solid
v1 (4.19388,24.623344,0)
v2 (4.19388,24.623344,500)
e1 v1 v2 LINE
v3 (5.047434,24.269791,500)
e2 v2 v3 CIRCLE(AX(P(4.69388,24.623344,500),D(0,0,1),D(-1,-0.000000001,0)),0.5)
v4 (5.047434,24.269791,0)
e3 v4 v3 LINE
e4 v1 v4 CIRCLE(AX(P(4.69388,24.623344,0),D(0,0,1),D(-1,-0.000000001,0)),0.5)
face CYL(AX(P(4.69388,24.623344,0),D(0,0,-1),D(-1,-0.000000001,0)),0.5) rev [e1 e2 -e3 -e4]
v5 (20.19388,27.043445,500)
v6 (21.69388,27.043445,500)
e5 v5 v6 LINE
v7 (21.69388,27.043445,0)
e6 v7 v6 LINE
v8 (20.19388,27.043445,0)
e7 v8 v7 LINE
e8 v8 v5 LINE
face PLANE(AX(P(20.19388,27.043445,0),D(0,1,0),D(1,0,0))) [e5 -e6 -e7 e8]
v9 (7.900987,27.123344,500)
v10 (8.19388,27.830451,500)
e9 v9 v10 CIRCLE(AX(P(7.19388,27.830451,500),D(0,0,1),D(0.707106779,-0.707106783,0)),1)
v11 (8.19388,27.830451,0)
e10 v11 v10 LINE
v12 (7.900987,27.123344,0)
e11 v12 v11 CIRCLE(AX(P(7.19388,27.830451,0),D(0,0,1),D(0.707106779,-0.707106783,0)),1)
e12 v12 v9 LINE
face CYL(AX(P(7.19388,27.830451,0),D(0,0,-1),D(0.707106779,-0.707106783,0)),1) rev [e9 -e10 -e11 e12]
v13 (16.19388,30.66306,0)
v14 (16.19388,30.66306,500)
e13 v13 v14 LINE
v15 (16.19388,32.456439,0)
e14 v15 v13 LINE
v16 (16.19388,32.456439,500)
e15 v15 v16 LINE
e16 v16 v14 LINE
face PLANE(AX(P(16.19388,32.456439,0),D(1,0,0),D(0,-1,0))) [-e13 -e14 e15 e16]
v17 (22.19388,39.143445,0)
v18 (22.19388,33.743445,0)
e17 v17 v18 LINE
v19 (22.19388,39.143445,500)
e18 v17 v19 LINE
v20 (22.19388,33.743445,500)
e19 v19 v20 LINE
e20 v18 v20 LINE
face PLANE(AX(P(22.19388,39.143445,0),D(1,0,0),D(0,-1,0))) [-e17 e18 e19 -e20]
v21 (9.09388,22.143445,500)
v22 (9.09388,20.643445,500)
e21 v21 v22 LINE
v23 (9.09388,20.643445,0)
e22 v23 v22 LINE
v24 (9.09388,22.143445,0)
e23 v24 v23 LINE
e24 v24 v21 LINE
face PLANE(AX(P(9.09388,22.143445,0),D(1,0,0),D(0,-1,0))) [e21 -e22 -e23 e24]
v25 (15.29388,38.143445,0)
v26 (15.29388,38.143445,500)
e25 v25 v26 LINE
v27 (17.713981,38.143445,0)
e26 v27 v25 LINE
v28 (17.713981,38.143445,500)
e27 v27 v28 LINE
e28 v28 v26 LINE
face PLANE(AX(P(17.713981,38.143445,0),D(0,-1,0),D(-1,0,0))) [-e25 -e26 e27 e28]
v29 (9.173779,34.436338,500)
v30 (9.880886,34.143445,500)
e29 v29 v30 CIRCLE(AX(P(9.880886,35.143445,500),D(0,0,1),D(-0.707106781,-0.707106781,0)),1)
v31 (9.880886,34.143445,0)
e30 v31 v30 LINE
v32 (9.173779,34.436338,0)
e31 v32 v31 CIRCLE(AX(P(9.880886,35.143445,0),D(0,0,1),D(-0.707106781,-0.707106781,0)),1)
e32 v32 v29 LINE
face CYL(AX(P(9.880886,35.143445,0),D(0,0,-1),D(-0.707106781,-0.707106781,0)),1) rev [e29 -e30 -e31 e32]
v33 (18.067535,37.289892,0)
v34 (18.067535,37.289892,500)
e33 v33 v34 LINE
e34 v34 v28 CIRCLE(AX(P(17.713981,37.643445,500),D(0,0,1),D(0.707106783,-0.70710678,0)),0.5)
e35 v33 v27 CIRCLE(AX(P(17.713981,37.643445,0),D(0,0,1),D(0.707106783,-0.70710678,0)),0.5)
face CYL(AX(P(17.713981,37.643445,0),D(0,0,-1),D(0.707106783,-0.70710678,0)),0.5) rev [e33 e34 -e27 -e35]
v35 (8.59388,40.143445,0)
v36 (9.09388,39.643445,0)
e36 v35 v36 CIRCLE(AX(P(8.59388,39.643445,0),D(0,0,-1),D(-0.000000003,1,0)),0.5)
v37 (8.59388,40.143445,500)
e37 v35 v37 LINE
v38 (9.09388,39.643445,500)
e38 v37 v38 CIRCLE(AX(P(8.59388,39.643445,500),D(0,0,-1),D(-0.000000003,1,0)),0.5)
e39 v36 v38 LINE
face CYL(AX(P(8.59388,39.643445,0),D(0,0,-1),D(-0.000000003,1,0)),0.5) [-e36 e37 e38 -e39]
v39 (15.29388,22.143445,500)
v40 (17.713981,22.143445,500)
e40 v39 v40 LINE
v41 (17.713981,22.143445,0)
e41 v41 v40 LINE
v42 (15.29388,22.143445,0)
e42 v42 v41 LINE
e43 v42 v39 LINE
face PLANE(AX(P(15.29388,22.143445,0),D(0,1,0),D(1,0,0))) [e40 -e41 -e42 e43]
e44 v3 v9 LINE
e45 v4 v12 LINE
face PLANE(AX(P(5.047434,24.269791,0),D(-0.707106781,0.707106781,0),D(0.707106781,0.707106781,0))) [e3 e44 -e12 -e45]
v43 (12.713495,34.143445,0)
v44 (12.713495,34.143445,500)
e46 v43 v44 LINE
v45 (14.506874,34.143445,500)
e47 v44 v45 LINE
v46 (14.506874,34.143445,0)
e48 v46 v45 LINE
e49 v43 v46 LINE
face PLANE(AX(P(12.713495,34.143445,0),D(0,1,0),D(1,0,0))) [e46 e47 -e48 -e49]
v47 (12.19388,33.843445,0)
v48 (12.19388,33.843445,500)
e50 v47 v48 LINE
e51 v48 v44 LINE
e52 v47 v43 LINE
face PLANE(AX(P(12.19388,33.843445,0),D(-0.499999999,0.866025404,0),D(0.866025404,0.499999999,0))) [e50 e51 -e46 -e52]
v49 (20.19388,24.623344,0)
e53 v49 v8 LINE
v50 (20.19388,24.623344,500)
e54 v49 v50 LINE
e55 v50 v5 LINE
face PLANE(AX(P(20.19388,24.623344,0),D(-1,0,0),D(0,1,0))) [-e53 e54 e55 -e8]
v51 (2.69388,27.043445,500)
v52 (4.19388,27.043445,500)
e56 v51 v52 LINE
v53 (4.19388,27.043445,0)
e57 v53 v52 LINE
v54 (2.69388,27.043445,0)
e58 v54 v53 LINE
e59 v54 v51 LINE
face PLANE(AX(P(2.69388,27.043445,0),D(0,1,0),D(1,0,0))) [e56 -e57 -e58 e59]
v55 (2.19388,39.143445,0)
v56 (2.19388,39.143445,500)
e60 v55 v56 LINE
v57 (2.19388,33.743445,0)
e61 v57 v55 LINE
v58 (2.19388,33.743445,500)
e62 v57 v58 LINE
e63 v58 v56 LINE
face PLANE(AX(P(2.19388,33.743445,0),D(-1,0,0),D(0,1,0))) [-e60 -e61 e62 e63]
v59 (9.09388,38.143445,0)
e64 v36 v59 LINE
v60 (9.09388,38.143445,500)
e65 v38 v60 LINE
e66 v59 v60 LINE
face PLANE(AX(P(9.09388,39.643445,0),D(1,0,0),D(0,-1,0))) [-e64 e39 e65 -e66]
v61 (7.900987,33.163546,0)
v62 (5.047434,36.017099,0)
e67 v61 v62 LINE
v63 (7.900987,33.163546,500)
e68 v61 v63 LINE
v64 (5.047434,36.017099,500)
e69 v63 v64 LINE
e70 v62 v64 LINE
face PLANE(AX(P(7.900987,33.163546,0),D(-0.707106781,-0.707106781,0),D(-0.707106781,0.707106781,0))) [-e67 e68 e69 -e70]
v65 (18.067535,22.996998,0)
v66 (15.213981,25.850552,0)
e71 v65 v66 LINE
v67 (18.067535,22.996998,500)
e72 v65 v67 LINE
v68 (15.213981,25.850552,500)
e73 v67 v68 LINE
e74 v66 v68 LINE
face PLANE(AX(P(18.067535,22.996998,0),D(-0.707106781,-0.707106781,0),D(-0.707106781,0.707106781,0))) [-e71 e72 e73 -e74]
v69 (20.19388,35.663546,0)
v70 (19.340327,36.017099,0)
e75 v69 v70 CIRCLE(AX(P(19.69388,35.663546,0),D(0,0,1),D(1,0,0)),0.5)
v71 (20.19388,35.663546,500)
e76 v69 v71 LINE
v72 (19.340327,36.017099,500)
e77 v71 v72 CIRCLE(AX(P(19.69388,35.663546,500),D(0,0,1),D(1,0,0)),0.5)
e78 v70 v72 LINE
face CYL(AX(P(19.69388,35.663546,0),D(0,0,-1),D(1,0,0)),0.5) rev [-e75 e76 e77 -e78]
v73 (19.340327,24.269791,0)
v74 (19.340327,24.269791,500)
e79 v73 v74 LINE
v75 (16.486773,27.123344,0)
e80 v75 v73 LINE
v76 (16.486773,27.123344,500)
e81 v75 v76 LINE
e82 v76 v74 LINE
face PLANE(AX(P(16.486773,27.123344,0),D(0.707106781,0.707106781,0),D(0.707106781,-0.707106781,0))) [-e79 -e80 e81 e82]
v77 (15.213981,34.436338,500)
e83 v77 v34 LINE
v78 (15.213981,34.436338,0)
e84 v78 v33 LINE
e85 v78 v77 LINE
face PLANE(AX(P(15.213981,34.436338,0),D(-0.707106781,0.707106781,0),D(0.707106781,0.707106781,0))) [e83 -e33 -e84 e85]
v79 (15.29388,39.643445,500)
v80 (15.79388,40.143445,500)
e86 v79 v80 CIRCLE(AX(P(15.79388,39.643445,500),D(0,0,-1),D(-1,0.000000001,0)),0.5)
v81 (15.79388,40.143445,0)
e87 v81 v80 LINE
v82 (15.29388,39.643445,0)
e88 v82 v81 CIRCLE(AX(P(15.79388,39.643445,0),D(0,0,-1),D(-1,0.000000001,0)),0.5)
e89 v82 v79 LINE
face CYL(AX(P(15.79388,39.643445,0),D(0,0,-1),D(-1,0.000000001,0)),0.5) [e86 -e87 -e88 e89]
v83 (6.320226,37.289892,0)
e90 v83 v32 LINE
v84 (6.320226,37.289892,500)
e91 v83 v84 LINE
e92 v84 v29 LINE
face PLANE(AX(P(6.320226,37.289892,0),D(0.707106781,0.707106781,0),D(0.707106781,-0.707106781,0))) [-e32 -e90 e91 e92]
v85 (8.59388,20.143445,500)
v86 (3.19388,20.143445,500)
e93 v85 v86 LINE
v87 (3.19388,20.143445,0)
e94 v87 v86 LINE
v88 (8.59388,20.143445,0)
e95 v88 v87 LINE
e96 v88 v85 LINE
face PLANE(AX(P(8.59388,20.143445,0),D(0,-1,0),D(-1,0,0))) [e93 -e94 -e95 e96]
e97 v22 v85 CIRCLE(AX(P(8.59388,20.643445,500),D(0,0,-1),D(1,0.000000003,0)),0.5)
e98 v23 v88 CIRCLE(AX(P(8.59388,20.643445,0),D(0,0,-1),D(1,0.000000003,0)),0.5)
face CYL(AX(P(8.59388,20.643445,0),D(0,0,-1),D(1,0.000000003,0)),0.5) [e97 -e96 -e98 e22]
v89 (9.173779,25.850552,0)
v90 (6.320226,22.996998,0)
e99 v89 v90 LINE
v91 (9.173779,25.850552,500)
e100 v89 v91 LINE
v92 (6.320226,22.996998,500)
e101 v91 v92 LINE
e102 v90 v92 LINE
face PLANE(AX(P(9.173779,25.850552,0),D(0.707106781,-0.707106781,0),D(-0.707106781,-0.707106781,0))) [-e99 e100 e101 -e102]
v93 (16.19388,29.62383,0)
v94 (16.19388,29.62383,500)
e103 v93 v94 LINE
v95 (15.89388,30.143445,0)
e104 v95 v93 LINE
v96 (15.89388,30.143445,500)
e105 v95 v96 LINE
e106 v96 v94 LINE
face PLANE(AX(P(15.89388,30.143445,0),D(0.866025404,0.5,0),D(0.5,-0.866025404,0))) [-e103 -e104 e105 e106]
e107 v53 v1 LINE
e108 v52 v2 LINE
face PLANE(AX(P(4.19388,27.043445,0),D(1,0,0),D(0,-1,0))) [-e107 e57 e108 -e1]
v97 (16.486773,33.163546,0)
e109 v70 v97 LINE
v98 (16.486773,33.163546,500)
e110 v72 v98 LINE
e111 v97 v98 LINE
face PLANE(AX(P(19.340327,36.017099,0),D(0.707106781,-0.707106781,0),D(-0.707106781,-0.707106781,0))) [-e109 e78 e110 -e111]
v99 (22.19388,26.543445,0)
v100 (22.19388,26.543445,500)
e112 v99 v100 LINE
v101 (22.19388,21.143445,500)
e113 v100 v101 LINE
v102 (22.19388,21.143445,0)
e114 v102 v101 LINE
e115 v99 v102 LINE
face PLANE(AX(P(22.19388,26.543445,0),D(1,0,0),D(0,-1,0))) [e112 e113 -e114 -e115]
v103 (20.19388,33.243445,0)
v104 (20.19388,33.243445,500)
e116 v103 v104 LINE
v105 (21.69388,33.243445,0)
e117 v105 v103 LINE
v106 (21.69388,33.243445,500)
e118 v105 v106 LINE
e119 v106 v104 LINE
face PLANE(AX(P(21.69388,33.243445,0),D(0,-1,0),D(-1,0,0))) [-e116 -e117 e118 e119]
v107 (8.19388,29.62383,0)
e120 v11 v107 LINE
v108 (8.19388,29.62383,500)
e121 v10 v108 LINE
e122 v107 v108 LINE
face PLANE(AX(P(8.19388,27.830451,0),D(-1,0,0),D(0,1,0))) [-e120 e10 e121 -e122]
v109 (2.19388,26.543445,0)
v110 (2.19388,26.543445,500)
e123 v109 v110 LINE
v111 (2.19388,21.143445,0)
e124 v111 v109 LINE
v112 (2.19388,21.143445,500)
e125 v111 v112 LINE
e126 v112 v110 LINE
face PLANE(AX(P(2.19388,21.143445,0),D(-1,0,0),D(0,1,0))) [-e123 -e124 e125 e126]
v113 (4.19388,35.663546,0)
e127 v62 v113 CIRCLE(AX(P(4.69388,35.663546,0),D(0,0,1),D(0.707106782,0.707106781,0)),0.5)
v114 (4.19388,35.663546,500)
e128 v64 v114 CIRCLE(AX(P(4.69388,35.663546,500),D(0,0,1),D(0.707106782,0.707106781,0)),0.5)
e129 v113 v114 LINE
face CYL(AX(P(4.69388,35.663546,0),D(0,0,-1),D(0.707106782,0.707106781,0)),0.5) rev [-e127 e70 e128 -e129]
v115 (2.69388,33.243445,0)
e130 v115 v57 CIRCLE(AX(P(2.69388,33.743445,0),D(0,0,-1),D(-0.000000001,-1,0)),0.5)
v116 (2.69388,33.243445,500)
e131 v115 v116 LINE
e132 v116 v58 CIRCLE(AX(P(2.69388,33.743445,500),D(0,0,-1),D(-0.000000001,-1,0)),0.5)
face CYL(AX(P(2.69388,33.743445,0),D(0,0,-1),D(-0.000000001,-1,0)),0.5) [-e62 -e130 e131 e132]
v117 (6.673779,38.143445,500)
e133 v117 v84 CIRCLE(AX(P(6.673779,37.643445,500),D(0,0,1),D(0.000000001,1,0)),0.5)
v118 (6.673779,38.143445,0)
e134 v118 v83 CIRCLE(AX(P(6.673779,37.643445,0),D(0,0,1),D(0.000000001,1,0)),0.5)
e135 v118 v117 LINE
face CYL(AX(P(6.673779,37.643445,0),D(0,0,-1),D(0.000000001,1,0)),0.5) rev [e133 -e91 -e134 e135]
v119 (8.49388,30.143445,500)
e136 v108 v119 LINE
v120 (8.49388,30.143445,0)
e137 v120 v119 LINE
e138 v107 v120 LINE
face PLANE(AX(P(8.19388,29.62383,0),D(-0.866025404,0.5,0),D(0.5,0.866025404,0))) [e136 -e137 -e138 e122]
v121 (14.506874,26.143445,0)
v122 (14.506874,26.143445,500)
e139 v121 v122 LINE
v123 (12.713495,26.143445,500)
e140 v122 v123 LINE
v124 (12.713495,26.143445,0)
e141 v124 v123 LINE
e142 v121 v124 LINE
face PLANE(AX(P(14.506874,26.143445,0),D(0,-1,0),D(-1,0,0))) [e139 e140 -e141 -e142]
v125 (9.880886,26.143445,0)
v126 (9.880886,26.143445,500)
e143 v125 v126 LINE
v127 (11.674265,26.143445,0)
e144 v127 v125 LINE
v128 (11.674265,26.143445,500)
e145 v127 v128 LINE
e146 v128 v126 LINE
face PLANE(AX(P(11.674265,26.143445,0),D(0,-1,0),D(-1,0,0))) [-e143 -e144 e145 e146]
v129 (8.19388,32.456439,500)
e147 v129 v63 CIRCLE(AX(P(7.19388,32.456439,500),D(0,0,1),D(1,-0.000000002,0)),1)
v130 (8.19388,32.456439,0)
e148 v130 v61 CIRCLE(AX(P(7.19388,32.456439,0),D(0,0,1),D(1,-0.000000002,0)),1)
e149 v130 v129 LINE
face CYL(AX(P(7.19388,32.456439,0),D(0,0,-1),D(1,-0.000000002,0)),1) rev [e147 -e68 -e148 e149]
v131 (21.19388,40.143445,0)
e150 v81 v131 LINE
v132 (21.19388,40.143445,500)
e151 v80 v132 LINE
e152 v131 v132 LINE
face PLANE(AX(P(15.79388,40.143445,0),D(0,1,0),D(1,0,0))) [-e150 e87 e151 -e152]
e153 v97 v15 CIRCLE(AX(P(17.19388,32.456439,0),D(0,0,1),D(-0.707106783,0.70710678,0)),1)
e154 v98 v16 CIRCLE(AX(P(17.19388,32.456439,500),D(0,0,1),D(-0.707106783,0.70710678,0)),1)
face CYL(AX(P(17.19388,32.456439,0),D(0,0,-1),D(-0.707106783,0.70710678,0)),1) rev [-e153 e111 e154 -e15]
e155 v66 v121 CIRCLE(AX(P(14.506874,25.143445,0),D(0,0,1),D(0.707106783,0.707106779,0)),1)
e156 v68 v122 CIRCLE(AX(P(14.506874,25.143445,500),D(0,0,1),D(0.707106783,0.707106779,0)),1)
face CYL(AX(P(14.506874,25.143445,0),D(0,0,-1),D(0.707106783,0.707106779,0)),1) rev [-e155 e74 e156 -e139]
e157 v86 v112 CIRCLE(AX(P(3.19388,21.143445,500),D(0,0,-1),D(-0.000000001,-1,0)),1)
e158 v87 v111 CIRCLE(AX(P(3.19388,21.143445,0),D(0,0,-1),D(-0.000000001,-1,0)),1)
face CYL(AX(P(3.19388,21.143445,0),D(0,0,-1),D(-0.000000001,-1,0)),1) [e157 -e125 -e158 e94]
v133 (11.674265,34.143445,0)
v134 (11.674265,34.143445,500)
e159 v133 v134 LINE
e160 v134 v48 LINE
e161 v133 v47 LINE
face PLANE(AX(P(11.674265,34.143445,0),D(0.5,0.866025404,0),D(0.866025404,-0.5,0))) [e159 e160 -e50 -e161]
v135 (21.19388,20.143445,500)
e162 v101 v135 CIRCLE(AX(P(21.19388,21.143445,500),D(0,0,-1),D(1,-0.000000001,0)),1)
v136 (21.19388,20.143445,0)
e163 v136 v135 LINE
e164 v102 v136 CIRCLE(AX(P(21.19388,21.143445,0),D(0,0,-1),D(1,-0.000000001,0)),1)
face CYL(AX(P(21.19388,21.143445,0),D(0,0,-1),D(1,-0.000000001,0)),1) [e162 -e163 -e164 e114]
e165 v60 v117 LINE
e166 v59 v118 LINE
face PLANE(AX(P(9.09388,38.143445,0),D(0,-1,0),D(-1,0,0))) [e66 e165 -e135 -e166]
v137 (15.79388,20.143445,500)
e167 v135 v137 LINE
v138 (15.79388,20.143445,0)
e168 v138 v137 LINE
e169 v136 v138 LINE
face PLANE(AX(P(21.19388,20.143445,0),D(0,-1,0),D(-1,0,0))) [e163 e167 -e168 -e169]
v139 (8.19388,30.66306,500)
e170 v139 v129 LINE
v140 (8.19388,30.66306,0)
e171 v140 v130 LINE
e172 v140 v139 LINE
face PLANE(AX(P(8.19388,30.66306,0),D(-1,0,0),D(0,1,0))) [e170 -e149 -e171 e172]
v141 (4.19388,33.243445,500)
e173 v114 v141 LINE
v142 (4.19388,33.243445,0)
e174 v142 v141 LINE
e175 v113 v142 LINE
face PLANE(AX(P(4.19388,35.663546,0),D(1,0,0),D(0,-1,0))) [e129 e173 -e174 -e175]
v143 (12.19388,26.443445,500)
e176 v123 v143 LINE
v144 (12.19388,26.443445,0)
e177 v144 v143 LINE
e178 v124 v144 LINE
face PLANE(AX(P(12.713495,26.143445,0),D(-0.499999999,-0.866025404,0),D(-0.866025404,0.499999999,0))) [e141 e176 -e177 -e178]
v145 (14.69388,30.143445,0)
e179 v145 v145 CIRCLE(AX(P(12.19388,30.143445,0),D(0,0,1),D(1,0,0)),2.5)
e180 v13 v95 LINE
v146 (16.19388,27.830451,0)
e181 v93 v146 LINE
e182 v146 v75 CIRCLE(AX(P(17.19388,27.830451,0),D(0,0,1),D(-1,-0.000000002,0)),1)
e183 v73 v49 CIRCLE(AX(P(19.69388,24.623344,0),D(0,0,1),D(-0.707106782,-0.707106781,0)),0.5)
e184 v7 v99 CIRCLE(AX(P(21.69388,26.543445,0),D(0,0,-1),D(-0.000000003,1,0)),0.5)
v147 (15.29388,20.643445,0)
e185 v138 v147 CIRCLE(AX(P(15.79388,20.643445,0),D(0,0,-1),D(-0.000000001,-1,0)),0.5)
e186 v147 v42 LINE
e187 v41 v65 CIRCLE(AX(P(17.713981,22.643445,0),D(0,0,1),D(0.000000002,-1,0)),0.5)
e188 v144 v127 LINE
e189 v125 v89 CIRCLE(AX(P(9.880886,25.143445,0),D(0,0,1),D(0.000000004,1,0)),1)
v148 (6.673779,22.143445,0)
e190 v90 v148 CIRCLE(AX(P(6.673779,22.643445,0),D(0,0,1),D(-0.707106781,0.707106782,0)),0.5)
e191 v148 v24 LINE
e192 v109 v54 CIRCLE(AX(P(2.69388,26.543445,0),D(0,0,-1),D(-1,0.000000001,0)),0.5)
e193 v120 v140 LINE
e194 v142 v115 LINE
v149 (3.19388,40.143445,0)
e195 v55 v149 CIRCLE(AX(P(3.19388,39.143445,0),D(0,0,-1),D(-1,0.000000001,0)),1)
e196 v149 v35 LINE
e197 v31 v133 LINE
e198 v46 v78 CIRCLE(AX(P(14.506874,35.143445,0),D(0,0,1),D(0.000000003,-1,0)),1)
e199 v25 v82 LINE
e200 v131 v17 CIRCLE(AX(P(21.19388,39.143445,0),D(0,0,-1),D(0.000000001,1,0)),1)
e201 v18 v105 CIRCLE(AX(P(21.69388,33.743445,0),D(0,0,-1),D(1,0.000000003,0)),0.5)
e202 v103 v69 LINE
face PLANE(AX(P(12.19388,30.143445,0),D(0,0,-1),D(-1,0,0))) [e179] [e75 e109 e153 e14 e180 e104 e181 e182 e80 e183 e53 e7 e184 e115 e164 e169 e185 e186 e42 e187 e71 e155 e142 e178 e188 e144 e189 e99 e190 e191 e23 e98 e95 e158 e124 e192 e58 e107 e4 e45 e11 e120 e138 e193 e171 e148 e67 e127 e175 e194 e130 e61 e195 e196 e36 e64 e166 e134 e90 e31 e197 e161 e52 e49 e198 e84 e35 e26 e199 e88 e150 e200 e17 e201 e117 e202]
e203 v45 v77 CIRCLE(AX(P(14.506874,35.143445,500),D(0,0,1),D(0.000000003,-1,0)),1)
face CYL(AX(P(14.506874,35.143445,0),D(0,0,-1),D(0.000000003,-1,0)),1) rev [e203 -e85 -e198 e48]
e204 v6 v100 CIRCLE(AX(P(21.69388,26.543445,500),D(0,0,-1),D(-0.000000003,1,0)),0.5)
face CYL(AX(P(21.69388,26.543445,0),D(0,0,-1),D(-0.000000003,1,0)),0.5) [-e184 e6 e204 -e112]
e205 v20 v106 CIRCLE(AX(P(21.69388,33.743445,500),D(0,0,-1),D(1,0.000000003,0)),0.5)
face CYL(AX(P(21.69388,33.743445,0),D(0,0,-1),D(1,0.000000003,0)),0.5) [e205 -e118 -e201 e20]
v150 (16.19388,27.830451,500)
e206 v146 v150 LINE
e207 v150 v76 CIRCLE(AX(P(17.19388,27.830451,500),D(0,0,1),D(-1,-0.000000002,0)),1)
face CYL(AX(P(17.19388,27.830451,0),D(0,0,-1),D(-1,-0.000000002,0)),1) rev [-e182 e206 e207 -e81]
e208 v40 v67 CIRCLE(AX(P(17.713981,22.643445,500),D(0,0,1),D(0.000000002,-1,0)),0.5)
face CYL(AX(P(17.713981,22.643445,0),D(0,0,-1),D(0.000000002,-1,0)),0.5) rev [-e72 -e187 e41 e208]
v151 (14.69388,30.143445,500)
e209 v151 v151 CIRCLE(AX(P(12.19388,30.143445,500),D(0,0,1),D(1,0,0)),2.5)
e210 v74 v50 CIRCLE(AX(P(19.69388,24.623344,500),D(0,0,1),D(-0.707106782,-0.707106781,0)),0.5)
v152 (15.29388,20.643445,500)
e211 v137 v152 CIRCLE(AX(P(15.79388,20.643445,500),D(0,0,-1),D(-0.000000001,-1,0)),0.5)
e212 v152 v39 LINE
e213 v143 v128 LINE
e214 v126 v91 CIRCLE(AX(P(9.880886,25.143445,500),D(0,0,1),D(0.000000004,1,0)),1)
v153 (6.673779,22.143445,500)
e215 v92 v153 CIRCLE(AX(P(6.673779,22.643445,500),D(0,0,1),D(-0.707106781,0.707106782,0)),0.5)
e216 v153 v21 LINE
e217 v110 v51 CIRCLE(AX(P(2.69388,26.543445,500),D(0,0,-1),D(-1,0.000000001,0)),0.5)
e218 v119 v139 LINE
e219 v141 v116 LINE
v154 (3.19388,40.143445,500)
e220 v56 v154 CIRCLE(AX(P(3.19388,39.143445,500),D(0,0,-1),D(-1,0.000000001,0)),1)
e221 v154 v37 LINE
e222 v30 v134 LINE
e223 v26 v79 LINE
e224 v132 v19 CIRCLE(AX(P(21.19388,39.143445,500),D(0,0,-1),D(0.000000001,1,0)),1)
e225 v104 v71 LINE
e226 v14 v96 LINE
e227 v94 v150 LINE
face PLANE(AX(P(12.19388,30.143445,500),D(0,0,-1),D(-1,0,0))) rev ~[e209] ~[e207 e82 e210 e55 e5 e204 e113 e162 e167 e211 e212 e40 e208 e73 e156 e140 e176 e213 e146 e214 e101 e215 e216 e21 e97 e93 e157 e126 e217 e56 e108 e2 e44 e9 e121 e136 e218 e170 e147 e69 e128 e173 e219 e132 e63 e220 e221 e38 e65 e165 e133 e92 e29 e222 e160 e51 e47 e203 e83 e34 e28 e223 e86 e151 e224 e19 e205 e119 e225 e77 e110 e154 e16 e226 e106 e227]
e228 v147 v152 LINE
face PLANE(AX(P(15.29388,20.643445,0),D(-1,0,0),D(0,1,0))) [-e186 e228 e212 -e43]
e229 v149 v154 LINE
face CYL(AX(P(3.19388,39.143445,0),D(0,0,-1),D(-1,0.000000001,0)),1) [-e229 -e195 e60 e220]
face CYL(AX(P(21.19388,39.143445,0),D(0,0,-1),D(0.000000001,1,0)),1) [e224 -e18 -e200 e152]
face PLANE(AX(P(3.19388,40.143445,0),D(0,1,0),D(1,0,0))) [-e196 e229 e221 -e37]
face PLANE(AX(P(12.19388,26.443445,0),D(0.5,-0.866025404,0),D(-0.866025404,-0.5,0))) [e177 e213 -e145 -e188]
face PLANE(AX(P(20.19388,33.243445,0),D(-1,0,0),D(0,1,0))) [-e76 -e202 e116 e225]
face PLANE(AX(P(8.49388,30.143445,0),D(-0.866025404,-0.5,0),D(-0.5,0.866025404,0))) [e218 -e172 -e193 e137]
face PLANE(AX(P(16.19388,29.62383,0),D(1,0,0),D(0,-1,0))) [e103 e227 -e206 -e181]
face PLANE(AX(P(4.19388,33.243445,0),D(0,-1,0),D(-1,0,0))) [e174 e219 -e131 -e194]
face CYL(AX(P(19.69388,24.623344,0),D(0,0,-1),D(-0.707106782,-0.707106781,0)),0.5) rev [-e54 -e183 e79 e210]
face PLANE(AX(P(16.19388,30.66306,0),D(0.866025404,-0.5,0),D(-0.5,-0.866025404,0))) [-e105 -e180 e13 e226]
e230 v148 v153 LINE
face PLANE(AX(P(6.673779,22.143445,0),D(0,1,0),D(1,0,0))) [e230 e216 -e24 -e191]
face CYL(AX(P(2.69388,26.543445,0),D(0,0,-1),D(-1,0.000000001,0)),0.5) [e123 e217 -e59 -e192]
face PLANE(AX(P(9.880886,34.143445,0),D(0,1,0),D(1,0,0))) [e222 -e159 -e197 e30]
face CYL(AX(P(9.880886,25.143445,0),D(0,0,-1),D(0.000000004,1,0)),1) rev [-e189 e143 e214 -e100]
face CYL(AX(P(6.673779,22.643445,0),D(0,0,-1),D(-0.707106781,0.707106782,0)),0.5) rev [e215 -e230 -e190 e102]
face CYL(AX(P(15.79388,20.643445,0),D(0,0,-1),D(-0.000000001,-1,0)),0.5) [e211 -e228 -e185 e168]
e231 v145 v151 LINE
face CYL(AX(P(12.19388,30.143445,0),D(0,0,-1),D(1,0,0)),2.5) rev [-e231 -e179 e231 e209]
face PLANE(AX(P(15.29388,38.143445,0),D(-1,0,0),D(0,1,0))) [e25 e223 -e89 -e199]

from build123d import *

# Parameters (mm, degrees)
SKETCH_1_R      = 2.5
EXTRUDE_1_DEPTH = 500


with BuildPart() as part:
    # 草图1 → 凸台-拉伸1 (new body)
    with BuildSketch(Plane.XY):
        with BuildLine():
            Line((16.486773435, 27.123343944), (19.340326826, 24.269790554))
            ThreePointArc((19.340326826, 24.269790554), (19.885221932, 24.161404178), (20.193880216, 24.623343944))
            Line((20.193880216, 24.623343944), (20.193880216, 27.043444957))
            Line((20.193880216, 27.043444957), (21.693880216, 27.043444957))
            ThreePointArc((21.693880216, 27.043444957), (22.047433607, 26.896998348), (22.193880216, 26.543444957))
            Line((22.193880216, 26.543444957), (22.193880216, 21.143444957))
            ThreePointArc((22.193880216, 21.143444957), (21.900986997, 20.436338176), (21.193880216, 20.143444957))
            Line((21.193880216, 20.143444957), (15.793880216, 20.143444957))
            ThreePointArc((15.793880216, 20.143444957), (15.440326826, 20.289891566), (15.293880216, 20.643444957))
            Line((15.293880216, 20.643444957), (15.293880216, 22.143444957))
            Line((15.293880216, 22.143444957), (17.713981229, 22.143444957))
            ThreePointArc((17.713981229, 22.143444957), (18.175920995, 22.452103241), (18.06753462, 22.996998348))
            Line((18.06753462, 22.996998348), (15.213981229, 25.850551738))
            ThreePointArc((15.213981229, 25.850551738), (14.88955788, 26.06732449), (14.506874448, 26.143444957))
            Line((14.506874448, 26.143444957), (12.713495459, 26.143444957))
            Line((12.713495459, 26.143444957), (12.193880216, 26.443444957))
            Line((12.193880216, 26.443444957), (11.674264974, 26.143444957))
            Line((11.674264974, 26.143444957), (9.880885985, 26.143444957))
            ThreePointArc((9.880885985, 26.143444957), (9.498202552, 26.06732449), (9.173779204, 25.850551738))
            Line((9.173779204, 25.850551738), (6.320225813, 22.996998348))
            ThreePointArc((6.320225813, 22.996998348), (6.211839437, 22.452103241), (6.673779204, 22.143444957))
            Line((6.673779204, 22.143444957), (9.093880216, 22.143444957))
            Line((9.093880216, 22.143444957), (9.093880216, 20.643444957))
            ThreePointArc((9.093880216, 20.643444957), (8.947433607, 20.289891566), (8.593880216, 20.143444957))
            Line((8.593880216, 20.143444957), (3.193880216, 20.143444957))
            ThreePointArc((3.193880216, 20.143444957), (2.486773435, 20.436338176), (2.193880216, 21.143444957))
            Line((2.193880216, 21.143444957), (2.193880216, 26.543444957))
            ThreePointArc((2.193880216, 26.543444957), (2.340326826, 26.896998348), (2.693880216, 27.043444957))
            Line((2.693880216, 27.043444957), (4.193880216, 27.043444957))
            Line((4.193880216, 27.043444957), (4.193880216, 24.623343944))
            ThreePointArc((4.193880216, 24.623343944), (4.5025385, 24.161404178), (5.047433607, 24.269790554))
            Line((5.047433607, 24.269790554), (7.900986997, 27.123343944))
            ThreePointArc((7.900986997, 27.123343944), (8.117759749, 27.447767293), (8.193880216, 27.830450726))
            Line((8.193880216, 27.830450726), (8.193880216, 29.623829715))
            Line((8.193880216, 29.623829715), (8.493880216, 30.143444957))
            Line((8.493880216, 30.143444957), (8.193880216, 30.663060199))
            Line((8.193880216, 30.663060199), (8.193880216, 32.456439189))
            ThreePointArc((8.193880216, 32.456439189), (8.117759749, 32.839122621), (7.900986997, 33.16354597))
            Line((7.900986997, 33.16354597), (5.047433607, 36.01709936))
            ThreePointArc((5.047433607, 36.01709936), (4.5025385, 36.125485736), (4.193880216, 35.66354597))
            Line((4.193880216, 35.66354597), (4.193880216, 33.243444957))
            Line((4.193880216, 33.243444957), (2.693880216, 33.243444957))
            ThreePointArc((2.693880216, 33.243444957), (2.340326826, 33.389891566), (2.193880216, 33.743444957))
            Line((2.193880216, 33.743444957), (2.193880216, 39.143444957))
            ThreePointArc((2.193880216, 39.143444957), (2.486773435, 39.850551738), (3.193880216, 40.143444957))
            Line((3.193880216, 40.143444957), (8.593880216, 40.143444957))
            ThreePointArc((8.593880216, 40.143444957), (8.947433607, 39.996998348), (9.093880216, 39.643444957))
            Line((9.093880216, 39.643444957), (9.093880216, 38.143444957))
            Line((9.093880216, 38.143444957), (6.673779204, 38.143444957))
            ThreePointArc((6.673779204, 38.143444957), (6.211839437, 37.834786673), (6.320225813, 37.289891566))
            Line((6.320225813, 37.289891566), (9.173779204, 34.436338176))
            ThreePointArc((9.173779204, 34.436338176), (9.498202552, 34.219565425), (9.880885985, 34.143444957))
            Line((9.880885985, 34.143444957), (11.674264974, 34.143444957))
            Line((11.674264974, 34.143444957), (12.193880216, 33.843444957))
            Line((12.193880216, 33.843444957), (12.713495459, 34.143444957))
            Line((12.713495459, 34.143444957), (14.506874448, 34.143444957))
            ThreePointArc((14.506874448, 34.143444957), (14.88955788, 34.219565425), (15.213981229, 34.436338176))
            Line((15.213981229, 34.436338176), (18.06753462, 37.289891566))
            ThreePointArc((18.06753462, 37.289891566), (18.175920995, 37.834786673), (17.713981229, 38.143444957))
            Line((17.713981229, 38.143444957), (15.293880216, 38.143444957))
            Line((15.293880216, 38.143444957), (15.293880216, 39.643444957))
            ThreePointArc((15.293880216, 39.643444957), (15.440326826, 39.996998348), (15.793880216, 40.143444957))
            Line((15.793880216, 40.143444957), (21.193880216, 40.143444957))
            ThreePointArc((21.193880216, 40.143444957), (21.900986997, 39.850551738), (22.193880216, 39.143444957))
            Line((22.193880216, 39.143444957), (22.193880216, 33.743444957))
            ThreePointArc((22.193880216, 33.743444957), (22.047433607, 33.389891566), (21.693880216, 33.243444957))
            Line((21.693880216, 33.243444957), (20.193880216, 33.243444957))
            Line((20.193880216, 33.243444957), (20.193880216, 35.66354597))
            ThreePointArc((20.193880216, 35.66354597), (19.885221932, 36.125485736), (19.340326826, 36.01709936))
            Line((19.340326826, 36.01709936), (16.486773435, 33.16354597))
            ThreePointArc((16.486773435, 33.16354597), (16.270000684, 32.839122621), (16.193880216, 32.456439189))
            Line((16.193880216, 32.456439189), (16.193880216, 30.663060199))
            Line((16.193880216, 30.663060199), (15.893880216, 30.143444957))
            Line((15.893880216, 30.143444957), (16.193880216, 29.623829715))
            Line((16.193880216, 29.623829715), (16.193880216, 27.830450726))
            ThreePointArc((16.193880216, 27.830450726), (16.270000684, 27.447767293), (16.486773435, 27.123343944))
        make_face()
        with Locations((12.193880216, 30.143444957)):
            Circle(SKETCH_1_R, mode=Mode.SUBTRACT)
    extrude(amount=EXTRUDE_1_DEPTH)


solid = part.part
